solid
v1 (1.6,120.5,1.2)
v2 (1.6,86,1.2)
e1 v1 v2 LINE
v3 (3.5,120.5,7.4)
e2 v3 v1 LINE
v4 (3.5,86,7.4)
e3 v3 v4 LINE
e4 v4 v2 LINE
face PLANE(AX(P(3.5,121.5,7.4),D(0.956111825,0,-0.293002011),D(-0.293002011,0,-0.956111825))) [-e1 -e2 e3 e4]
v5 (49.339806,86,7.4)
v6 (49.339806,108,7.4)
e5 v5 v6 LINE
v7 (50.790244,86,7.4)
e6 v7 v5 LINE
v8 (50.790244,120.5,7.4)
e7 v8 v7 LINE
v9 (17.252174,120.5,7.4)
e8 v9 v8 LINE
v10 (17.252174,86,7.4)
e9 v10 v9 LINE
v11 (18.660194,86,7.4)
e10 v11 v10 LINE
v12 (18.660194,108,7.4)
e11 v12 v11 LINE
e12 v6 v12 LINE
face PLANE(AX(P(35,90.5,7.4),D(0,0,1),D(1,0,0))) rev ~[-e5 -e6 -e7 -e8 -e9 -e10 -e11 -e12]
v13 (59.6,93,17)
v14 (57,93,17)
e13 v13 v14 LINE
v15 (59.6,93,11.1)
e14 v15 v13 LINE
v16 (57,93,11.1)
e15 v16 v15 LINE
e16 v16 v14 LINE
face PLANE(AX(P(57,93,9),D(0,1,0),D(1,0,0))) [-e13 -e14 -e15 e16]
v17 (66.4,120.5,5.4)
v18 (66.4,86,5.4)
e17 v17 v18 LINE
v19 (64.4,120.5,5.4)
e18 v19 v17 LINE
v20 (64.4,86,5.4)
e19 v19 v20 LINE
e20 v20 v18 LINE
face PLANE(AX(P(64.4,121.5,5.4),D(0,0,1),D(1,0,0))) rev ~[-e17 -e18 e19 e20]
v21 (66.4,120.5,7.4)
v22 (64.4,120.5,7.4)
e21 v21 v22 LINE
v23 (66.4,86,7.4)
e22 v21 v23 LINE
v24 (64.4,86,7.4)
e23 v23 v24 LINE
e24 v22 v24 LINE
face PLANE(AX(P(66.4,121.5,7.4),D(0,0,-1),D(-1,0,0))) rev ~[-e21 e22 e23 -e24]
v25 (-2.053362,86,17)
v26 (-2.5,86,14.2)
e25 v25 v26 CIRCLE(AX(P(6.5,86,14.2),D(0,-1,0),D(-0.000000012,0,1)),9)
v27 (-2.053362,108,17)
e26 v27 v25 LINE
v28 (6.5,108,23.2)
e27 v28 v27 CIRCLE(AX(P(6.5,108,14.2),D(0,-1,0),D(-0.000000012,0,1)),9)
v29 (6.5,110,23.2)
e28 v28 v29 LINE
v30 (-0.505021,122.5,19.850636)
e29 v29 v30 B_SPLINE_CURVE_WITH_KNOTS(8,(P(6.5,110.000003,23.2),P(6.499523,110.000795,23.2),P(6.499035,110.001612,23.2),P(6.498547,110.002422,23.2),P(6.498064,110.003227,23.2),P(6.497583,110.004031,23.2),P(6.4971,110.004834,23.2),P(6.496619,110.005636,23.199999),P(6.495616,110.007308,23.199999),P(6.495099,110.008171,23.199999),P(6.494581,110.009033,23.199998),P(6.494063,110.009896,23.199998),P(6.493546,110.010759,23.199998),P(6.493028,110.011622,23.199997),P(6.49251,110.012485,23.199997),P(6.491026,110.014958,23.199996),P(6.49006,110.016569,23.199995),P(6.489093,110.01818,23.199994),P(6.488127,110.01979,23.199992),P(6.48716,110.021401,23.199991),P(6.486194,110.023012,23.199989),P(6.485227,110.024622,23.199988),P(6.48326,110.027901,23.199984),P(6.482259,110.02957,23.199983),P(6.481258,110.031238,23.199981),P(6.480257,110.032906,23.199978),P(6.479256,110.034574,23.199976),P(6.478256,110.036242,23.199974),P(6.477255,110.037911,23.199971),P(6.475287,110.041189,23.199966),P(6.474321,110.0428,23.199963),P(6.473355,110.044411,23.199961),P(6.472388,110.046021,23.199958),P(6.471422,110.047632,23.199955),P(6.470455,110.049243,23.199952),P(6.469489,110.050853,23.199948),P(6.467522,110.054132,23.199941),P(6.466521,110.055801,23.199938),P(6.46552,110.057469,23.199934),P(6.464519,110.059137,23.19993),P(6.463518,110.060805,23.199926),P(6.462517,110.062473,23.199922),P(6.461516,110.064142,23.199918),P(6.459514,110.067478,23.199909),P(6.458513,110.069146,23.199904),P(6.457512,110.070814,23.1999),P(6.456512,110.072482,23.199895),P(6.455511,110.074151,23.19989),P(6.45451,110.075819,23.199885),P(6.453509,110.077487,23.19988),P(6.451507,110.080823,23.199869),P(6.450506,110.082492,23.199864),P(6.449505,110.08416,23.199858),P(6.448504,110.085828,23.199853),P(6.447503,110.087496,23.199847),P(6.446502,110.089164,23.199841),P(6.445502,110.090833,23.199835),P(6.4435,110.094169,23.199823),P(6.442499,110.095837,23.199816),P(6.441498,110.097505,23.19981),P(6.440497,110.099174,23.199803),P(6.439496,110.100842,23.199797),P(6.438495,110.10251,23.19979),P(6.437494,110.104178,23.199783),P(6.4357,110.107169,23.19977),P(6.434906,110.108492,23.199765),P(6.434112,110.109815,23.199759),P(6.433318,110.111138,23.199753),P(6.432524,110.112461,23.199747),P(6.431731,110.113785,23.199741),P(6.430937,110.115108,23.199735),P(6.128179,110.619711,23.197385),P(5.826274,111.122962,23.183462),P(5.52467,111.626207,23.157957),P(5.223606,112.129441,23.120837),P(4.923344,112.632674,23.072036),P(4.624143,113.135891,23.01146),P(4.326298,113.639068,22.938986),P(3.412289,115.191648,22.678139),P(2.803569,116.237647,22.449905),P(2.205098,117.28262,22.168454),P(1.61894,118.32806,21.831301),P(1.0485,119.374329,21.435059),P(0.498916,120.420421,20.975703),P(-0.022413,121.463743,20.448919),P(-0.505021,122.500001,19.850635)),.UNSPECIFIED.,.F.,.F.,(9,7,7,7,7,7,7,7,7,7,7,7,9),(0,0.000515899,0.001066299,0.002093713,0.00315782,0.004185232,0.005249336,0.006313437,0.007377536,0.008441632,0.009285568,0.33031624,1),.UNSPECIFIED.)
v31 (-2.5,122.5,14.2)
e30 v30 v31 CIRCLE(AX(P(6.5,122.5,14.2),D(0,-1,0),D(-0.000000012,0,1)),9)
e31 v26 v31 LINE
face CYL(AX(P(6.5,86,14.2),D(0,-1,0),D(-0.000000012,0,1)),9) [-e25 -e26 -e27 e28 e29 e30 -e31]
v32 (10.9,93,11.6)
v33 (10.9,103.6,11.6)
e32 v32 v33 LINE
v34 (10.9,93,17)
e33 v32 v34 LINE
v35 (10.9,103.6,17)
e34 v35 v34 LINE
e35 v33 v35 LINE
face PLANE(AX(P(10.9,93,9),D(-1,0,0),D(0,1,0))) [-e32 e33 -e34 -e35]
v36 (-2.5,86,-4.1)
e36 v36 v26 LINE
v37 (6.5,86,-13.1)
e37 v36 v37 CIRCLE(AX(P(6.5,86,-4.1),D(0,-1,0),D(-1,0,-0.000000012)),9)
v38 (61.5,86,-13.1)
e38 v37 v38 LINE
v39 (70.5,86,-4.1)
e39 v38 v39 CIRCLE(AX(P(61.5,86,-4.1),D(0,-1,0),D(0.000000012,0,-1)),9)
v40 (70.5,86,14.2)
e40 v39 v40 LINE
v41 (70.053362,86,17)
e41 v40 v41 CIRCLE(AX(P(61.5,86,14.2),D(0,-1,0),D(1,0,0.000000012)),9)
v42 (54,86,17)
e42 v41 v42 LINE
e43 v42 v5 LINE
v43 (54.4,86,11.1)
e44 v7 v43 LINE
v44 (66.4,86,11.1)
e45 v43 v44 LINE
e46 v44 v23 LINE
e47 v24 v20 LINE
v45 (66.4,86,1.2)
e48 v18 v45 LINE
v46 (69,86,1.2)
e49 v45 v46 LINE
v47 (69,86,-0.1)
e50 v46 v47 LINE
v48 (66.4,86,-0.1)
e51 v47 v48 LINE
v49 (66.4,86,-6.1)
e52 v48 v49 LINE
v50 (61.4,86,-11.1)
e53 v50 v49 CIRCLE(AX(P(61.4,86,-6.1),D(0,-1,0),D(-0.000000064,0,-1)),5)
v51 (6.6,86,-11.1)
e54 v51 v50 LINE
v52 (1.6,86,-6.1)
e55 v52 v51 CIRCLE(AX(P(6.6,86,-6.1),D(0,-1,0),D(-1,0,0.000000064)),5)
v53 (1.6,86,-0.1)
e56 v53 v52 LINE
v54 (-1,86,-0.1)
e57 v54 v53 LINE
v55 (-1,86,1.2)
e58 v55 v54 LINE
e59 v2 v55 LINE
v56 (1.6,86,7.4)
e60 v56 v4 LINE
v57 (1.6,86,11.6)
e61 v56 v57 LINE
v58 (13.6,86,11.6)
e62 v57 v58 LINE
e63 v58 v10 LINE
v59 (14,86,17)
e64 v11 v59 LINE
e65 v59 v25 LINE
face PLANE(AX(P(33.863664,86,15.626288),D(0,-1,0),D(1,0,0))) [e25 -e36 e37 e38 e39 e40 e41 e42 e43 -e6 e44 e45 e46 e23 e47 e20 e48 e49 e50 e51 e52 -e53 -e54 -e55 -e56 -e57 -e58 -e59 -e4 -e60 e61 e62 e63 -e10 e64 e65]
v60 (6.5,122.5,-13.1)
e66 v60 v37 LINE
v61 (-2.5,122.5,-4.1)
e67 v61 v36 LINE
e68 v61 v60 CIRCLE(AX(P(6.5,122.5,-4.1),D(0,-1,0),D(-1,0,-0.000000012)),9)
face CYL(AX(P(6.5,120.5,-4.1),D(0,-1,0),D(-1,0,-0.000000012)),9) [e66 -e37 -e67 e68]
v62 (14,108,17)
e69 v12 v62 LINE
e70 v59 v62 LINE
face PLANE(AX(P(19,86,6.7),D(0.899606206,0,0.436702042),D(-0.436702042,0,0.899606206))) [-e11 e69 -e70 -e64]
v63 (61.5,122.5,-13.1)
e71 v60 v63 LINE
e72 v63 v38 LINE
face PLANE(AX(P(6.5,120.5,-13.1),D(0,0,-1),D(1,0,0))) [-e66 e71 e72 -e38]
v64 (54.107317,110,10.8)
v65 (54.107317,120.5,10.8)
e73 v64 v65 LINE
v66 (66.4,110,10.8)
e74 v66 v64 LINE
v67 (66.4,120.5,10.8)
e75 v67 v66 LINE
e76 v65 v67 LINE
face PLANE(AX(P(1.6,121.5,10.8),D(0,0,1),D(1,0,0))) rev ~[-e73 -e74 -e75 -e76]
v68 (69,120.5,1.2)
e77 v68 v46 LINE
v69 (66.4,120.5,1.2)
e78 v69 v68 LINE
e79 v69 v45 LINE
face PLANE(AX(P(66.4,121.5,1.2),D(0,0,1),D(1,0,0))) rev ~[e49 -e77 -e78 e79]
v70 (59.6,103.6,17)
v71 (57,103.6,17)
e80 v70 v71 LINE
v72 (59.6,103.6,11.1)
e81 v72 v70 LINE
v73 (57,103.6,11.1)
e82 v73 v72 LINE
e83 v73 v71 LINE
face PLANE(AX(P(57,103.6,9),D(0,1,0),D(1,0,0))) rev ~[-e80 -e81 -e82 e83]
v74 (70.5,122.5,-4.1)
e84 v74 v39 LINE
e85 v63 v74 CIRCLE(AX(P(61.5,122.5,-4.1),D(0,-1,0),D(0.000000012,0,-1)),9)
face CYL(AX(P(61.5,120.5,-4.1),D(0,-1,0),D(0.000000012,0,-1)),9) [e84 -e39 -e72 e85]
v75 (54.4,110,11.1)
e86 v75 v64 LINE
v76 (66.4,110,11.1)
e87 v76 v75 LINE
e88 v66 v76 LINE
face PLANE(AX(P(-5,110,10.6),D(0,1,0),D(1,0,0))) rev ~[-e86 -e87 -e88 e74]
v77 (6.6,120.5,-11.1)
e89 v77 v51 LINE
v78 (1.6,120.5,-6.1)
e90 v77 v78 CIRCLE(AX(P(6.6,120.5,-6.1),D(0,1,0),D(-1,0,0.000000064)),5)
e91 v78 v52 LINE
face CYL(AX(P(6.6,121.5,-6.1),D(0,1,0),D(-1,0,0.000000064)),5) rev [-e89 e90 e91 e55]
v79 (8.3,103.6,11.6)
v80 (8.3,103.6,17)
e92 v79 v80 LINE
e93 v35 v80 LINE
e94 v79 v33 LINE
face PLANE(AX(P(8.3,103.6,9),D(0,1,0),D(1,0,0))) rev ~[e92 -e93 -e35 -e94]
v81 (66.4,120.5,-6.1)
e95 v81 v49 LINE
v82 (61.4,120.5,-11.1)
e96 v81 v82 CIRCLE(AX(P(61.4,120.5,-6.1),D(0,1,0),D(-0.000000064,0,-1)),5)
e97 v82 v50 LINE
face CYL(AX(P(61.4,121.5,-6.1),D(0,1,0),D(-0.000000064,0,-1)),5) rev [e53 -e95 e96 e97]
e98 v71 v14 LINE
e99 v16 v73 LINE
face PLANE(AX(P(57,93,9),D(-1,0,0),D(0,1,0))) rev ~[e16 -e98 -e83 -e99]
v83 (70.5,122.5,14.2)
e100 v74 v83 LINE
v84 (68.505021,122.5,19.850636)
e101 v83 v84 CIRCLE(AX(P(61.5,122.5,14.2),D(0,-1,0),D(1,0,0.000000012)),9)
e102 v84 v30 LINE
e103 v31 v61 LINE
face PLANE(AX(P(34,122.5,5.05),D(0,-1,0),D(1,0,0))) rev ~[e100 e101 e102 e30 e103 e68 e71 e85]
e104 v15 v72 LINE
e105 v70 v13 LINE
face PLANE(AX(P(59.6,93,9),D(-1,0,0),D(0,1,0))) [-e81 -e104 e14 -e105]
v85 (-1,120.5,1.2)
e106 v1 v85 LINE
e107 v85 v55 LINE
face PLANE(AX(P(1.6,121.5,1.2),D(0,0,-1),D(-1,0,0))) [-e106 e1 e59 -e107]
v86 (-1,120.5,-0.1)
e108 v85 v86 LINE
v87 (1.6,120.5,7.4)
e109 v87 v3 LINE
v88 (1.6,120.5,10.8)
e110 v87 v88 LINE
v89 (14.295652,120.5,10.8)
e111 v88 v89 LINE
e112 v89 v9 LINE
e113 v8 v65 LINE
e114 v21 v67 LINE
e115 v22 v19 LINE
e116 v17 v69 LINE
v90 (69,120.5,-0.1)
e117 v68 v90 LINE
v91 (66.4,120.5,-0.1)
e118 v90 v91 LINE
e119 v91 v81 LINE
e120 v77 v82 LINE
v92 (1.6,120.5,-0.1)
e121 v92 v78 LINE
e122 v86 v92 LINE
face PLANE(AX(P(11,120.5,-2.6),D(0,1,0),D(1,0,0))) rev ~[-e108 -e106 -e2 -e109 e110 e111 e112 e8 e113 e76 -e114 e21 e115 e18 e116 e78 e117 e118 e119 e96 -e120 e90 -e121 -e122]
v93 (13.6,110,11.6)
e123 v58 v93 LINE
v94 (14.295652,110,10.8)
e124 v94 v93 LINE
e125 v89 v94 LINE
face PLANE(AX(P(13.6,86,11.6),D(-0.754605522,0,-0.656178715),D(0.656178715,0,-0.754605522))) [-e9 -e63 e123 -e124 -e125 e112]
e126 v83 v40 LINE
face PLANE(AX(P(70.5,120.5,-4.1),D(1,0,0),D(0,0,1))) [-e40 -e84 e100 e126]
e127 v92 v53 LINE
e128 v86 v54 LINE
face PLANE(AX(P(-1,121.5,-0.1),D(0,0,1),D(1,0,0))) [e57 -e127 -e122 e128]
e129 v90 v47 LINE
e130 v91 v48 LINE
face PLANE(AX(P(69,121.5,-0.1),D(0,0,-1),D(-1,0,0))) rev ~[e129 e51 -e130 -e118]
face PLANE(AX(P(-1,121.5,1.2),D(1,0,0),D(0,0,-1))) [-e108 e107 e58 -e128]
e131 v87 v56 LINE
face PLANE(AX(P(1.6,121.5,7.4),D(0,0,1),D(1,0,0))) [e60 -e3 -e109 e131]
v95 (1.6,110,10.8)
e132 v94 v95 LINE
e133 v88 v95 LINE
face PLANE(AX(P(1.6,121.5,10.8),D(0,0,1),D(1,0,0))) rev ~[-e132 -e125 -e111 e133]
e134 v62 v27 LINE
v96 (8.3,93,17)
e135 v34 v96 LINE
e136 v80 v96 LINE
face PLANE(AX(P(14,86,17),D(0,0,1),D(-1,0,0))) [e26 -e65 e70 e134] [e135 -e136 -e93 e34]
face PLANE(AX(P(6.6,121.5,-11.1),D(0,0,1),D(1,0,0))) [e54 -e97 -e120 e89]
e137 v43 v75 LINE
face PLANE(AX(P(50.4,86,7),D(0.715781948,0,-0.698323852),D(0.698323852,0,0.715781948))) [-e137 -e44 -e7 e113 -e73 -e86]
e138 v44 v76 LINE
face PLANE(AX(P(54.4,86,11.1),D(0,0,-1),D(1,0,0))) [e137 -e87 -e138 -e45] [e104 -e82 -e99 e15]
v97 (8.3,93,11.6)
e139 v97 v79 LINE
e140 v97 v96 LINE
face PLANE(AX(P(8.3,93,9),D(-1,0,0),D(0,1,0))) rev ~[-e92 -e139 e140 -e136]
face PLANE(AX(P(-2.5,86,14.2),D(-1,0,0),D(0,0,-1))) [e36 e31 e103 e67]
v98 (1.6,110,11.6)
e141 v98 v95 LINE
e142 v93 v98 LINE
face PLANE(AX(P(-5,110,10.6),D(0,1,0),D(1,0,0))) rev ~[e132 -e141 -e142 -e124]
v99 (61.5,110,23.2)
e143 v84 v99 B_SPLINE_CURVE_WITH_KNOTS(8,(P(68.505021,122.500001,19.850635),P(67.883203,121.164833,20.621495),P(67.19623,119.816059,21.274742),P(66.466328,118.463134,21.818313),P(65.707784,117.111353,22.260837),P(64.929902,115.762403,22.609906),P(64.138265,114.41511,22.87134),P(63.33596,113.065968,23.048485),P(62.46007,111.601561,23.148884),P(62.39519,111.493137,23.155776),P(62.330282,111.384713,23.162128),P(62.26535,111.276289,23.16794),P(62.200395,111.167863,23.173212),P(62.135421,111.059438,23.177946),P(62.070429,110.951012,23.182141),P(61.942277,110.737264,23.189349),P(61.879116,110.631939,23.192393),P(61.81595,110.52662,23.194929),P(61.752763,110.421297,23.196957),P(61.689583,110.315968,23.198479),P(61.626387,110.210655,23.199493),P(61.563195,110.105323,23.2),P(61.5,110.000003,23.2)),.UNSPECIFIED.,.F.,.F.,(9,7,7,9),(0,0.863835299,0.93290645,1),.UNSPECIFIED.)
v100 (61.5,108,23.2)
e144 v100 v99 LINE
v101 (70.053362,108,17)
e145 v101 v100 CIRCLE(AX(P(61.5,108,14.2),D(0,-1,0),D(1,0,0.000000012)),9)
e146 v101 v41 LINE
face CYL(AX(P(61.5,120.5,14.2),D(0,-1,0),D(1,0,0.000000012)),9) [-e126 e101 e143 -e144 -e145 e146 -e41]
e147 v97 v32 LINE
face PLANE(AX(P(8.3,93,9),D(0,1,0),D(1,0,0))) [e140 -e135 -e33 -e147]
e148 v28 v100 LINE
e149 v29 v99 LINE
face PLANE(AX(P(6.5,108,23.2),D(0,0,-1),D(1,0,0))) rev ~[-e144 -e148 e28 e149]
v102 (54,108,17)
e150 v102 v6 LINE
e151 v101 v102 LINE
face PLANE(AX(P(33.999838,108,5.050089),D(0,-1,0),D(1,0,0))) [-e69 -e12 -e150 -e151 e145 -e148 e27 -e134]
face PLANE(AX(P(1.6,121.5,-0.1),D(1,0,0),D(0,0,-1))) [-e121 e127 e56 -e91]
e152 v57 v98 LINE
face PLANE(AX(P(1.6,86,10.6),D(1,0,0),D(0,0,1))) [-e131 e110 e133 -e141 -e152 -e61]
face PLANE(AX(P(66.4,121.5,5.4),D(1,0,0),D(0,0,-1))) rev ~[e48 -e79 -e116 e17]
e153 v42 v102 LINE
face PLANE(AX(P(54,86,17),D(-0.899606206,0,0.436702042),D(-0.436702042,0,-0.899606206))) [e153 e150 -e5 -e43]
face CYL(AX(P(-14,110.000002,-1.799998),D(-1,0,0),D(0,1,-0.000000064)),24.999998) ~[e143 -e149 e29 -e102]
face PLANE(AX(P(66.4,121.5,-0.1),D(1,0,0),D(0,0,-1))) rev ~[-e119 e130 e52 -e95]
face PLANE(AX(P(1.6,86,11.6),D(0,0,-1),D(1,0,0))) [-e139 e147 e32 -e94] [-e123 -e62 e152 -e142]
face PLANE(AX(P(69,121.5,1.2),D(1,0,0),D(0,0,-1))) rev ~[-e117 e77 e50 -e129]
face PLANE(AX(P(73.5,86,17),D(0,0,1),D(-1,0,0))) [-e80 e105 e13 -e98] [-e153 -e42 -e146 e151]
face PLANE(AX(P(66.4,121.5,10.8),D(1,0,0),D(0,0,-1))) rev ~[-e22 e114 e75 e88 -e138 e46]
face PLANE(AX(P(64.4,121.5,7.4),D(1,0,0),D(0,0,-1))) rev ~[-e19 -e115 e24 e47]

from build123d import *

# Parameters (mm, degrees)
BOX030_W                             = 48
BOX030_H                             = 60
BOX030_DEPTH                         = 10
BOX028_W                             = 2.6
BOX028_H                             = 10.6
BOX028_DEPTH                         = 15
BOX027_W                             = 2.6
BOX027_H                             = 10.6
BOX027_DEPTH                         = 15
EXTRUDE076_DEPTH                     = 34.5
EXTRUDE076_ONTO_SKETCH082_ROLL_ANGLE = 90
EXTRUDE075_DEPTH                     = 34.5
EXTRUDE075_ONTO_SKETCH081_ROLL_ANGLE = 90
EXTRUDE077_DEPTH                     = 10.5
EXTRUDE077_ONTO_SKETCH083_ROLL_ANGLE = 90
EXTRUDE080_DEPTH                     = 100
EXTRUDE079_DEPTH                     = 2
EXTRUDE079_ONTO_SKETCH085_ROLL_ANGLE = 90
BOX029_W                             = 80
BOX029_H                             = 28
BOX029_DEPTH                         = 30
EXTRUDE078_DEPTH                     = 35.5
EXTRUDE078_ONTO_SKETCH084_ROLL_ANGLE = 90
BOX032_W                             = 48
BOX032_H                             = 60
BOX032_DEPTH                         = 35
BOX031_W                             = 48
BOX031_H                             = 60
BOX031_DEPTH                         = 35
BOX033_W                             = 48
BOX033_H                             = 60
BOX033_DEPTH                         = 35
EXTRUDE081_DEPTH                     = 2
EXTRUDE081_ONTO_SKETCH087_ROLL_ANGLE = 90


with BuildPart() as cube:
    # Box030 → Box030 (new body)
    with BuildSketch(Plane(origin=(11, 60.5, -2.6), x_dir=(1, 0, 0), z_dir=(0, 0, 1))):
        with Locations((24, 30)):
            Rectangle(BOX030_W, BOX030_H)
    extrude(amount=BOX030_DEPTH)


with BuildPart() as control_cutout_rec003:
    # Box028 → Box028 (new body)
    with BuildSketch(Plane(origin=(57, 93, 9), x_dir=(1, 0, 0), z_dir=(0, 0, 1))):
        with Locations((1.3, 5.3)):
            Rectangle(BOX028_W, BOX028_H)
    extrude(amount=BOX028_DEPTH)


with BuildPart() as button_cutouts_rec001:
    # Box027 → Box027 (new body)
    with BuildSketch(Plane(origin=(8.3, 93, 9), x_dir=(1, 0, 0), z_dir=(0, 0, 1))):
        with Locations((1.3, 5.3)):
            Rectangle(BOX027_W, BOX027_H)
    extrude(amount=BOX027_DEPTH)

    # Fusion041: union control_cutout_rec003
    add(control_cutout_rec003.part)


with BuildPart() as screen_cutout_shp002:
    # Sketch082 as drawn → Extrude076 (new)
    with BuildSketch(Plane.XY):
        Polygon((14, 17), (-5.5, 17), (-5.5, 25.6), (73.5, 25.6), (73.5, 17), (54, 17), (49, 6.7), (49, 6.6), (19, 6.6), (19, 6.7), align=None)
    extrude(amount=-EXTRUDE076_DEPTH)


with BuildPart() as screen_cutout_shp002_1:
    # Extrude076 onto Sketch082 roll: moved
    add(screen_cutout_shp002.part.rotate(Axis((0, 0, 0), (1, 0, 0)), EXTRUDE076_ONTO_SKETCH082_ROLL_ANGLE))


with BuildPart() as screen_cutout_shp002_2:
    # Extrude076 onto Sketch082 placement: moved
    add(screen_cutout_shp002_1.part.moved(Location((0, 86, 0))))


with BuildPart() as screen_frame002:
    # Sketch081 as drawn → Extrude075 (new)
    with BuildSketch(Plane.XY):
        with BuildLine():
            Line((-2.5, 14.2), (-2.5, 10.6))
            Line((-2.5, 10.6), (1.6, 10.6))
            Line((1.6, 10.6), (1.6, 11.6))
            Line((1.6, 11.6), (13.6, 11.6))
            Line((13.6, 11.6), (17.6, 7))
            Line((17.6, 7), (50.4, 7))
            Line((50.4, 7), (54.4, 11.1))
            Line((54.4, 11.1), (66.4, 11.1))
            Line((66.4, 11.1), (66.4, 10.6))
            Line((66.4, 10.6), (70.5, 10.6))
            Line((70.5, 10.6), (70.5, 14.2))
            ThreePointArc((70.5, 14.2), (67.863961, 20.563961), (61.5, 23.2))
            Line((6.5, 23.2), (61.5, 23.2))
            ThreePointArc((6.5, 23.2), (0.136039, 20.563961), (-2.5, 14.2))
        make_face()
    extrude(amount=-EXTRUDE075_DEPTH)


with BuildPart() as screen_frame002_1:
    # Extrude075 onto Sketch081 roll: moved
    add(screen_frame002.part.rotate(Axis((0, 0, 0), (1, 0, 0)), EXTRUDE075_ONTO_SKETCH081_ROLL_ANGLE))


with BuildPart() as screen_frame002_2:
    # Extrude075 onto Sketch081 placement: moved
    add(screen_frame002_1.part.moved(Location((0, 86, 0))))

    # Cut031: cut screen_cutout_shp002
    add(screen_cutout_shp002_2.part, mode=Mode.SUBTRACT)


with BuildPart() as cut032:
    # Sketch083 as drawn → Extrude077 (new)
    with BuildSketch(Plane.XY):
        Polygon((13.6, 12.2), (17.6, 7.2), (50.4, 7.2), (54.4, 12.2), align=None)
    extrude(amount=-EXTRUDE077_DEPTH)


with BuildPart() as cut032_1:
    # Extrude077 onto Sketch083 roll: moved
    add(cut032.part.rotate(Axis((0, 0, 0), (1, 0, 0)), EXTRUDE077_ONTO_SKETCH083_ROLL_ANGLE))


with BuildPart() as cut032_2:
    # Extrude077 onto Sketch083 placement: moved
    add(cut032_1.part.moved(Location((0, 110, 0))))

    # Fusion042: union screen_frame002
    add(screen_frame002_2.part)

    # Cut032: cut button_cutouts_rec001
    add(button_cutouts_rec001.part, mode=Mode.SUBTRACT)


with BuildPart() as round_cut002:
    # Sketch086 → Extrude080 (new body)
    with BuildSketch(Plane.YZ.offset(-14)):
        with BuildLine():
            Line((100, 23.2), (100, 26.2))
            Line((100, 26.2), (138, 26.2))
            Line((138, 26.2), (138, -11.8))
            Line((138, -11.8), (135, -11.8))
            Line((135, -11.8), (135, -1.8))
            ThreePointArc((135, -1.8), (127.67767, 15.87767), (110, 23.2))
            Line((100, 23.2), (110, 23.2))
        make_face()
    extrude(amount=EXTRUDE080_DEPTH)


with BuildPart() as extrude079:
    # Sketch085 as drawn → Extrude079 (new)
    with BuildSketch(Plane.XY):
        with BuildLine():
            Line((-2.5, 14.2), (-2.5, -4.1))
            ThreePointArc((-2.5, -4.1), (0.136039, -10.463961), (6.5, -13.1))
            Line((6.5, -13.1), (61.5, -13.1))
            ThreePointArc((61.5, -13.1), (67.863961, -10.463961), (70.5, -4.1))
            Line((70.5, -4.1), (70.5, 14.2))
            ThreePointArc((70.5, 14.2), (67.863961, 20.563961), (61.5, 23.2))
            Line((6.5, 23.2), (61.5, 23.2))
            ThreePointArc((6.5, 23.2), (0.136039, 20.563961), (-2.5, 14.2))
        make_face()
    extrude(amount=-EXTRUDE079_DEPTH)


with BuildPart() as extrude079_1:
    # Extrude079 onto Sketch085 roll: moved
    add(extrude079.part.rotate(Axis((0, 0, 0), (1, 0, 0)), EXTRUDE079_ONTO_SKETCH085_ROLL_ANGLE))


with BuildPart() as extrude079_2:
    # Extrude079 onto Sketch085 placement: moved
    add(extrude079_1.part.moved(Location((0, 120, 0))))


with BuildPart() as extrude079_3:
    # Extrude079 placement: moved
    add(extrude079_2.part.moved(Location((0, 0.5, 0))))


with BuildPart() as cube008:
    # Box029 → Box029 (new body)
    with BuildSketch(Plane(origin=(-5, 82, 10.6), x_dir=(1, 0, 0), z_dir=(0, 0, 1))):
        with Locations((40, 14)):
            Rectangle(BOX029_W, BOX029_H)
    extrude(amount=BOX029_DEPTH)


with BuildPart() as shell_upper004:
    # Sketch084 as drawn → Extrude078 (new)
    with BuildSketch(Plane.XY):
        with BuildLine():
            Line((-2.5, 14.2), (-2.5, -4.1))
            ThreePointArc((-2.5, -4.1), (0.136039, -10.463961), (6.5, -13.1))
            Line((6.5, -13.1), (61.5, -13.1))
            ThreePointArc((61.5, -13.1), (67.863961, -10.463961), (70.5, -4.1))
            Line((70.5, -4.1), (70.5, 14.2))
            ThreePointArc((70.5, 14.2), (67.863961, 20.563961), (61.5, 23.2))
            Line((6.5, 23.2), (61.5, 23.2))
            ThreePointArc((6.5, 23.2), (0.136039, 20.563961), (-2.5, 14.2))
        make_face()
        with BuildLine():
            Line((1.6, 1.2), (-1, 1.2))
            Line((-1, 1.2), (-1, -0.1))
            Line((-1, -0.1), (1.6, -0.1))
            Line((1.6, -0.1), (1.6, -6.1))
            ThreePointArc((1.6, -6.1), (3.064466, -9.635534), (6.6, -11.1))
            Line((6.6, -11.1), (61.4, -11.1))
            ThreePointArc((61.4, -11.1), (64.935534, -9.635534), (66.4, -6.1))
            Line((66.4, -0.1), (66.4, -6.1))
            Line((69, -0.1), (66.4, -0.1))
            Line((69, 1.2), (69, -0.1))
            Line((66.4, 1.2), (69, 1.2))
            Line((66.4, 5.4), (66.4, 1.2))
            Line((64.4, 5.4), (66.4, 5.4))
            Line((64.4, 7.4), (64.4, 5.4))
            Line((66.4, 7.4), (64.4, 7.4))
            Line((66.4, 10.6), (66.4, 7.4))
            Line((66.4, 10.6), (66.4, 10.8))
            Line((66.4, 10.8), (64.5, 10.8))
            Line((64.5, 10.8), (3.5, 10.8))
            Line((1.6, 10.8), (3.5, 10.8))
            Line((1.6, 10.6), (1.6, 10.8))
            Line((1.6, 10.6), (1.6, 7.4))
            Line((1.6, 7.4), (3.5, 7.4))
            Line((3.5, 7.4), (1.6, 1.2))
        make_face(mode=Mode.SUBTRACT)
    extrude(amount=EXTRUDE078_DEPTH)


with BuildPart() as shell_upper004_1:
    # Extrude078 onto Sketch084 roll: moved
    add(shell_upper004.part.rotate(Axis((0, 0, 0), (1, 0, 0)), EXTRUDE078_ONTO_SKETCH084_ROLL_ANGLE))


with BuildPart() as shell_upper004_2:
    # Extrude078 onto Sketch084 placement: moved
    add(shell_upper004_1.part.moved(Location((0, 120, 0))))


with BuildPart() as shell_upper004_3:
    # Extrude078 placement: moved
    add(shell_upper004_2.part.moved(Location((0, 1.5, 0))))

    # Cut033: cut Cube008
    add(cube008.part, mode=Mode.SUBTRACT)

    # Fusion043: union Extrude079
    add(extrude079_3.part)

    # Cut034: cut round_cut002
    add(round_cut002.part, mode=Mode.SUBTRACT)

    # Fusion044: union Cut032
    add(cut032_2.part)


with BuildPart() as cube010:
    # Box032 → Box032 (new body)
    with BuildSketch(Plane(origin=(54, 60.5, -20.6), x_dir=(1, 0, 0), z_dir=(0, 0, 1))):
        with Locations((24, 30)):
            Rectangle(BOX032_W, BOX032_H)
    extrude(amount=BOX032_DEPTH)


with BuildPart() as cube009:
    # Box031 → Box031 (new body)
    with BuildSketch(Plane(origin=(-33, 60.5, -21.6), x_dir=(1, 0, 0), z_dir=(0, 0, 1))):
        with Locations((24, 30)):
            Rectangle(BOX031_W, BOX031_H)
    extrude(amount=BOX031_DEPTH)


with BuildPart() as fusion045:
    # Box033 → Box033 (new body)
    with BuildSketch(Plane(origin=(11, 60.5, -32.6), x_dir=(1, 0, 0), z_dir=(0, 0, 1))):
        with Locations((24, 30)):
            Rectangle(BOX033_W, BOX033_H)
    extrude(amount=BOX033_DEPTH)

    # Fusion045: union Cube010, Cube009
    add(cube010.part)
    add(cube009.part)


with BuildPart() as shell_upper_tuned:
    # Sketch087 as drawn → Extrude081 (new)
    with BuildSketch(Plane.XY):
        with BuildLine():
            Line((-2.5, 14.2), (-2.5, -4.099997))
            ThreePointArc((-2.5, -4.099997), (0.136039, -10.463958), (6.5, -13.099997))
            Line((6.5, -13.099997), (61.498163, -13.099997))
            ThreePointArc((61.498163, -13.099997), (67.863423, -10.46342), (70.5, -4.09816))
            Line((70.5, -4.09816), (70.5, 14.2))
            ThreePointArc((70.5, 14.2), (67.863961, 20.563961), (61.5, 23.2))
            Line((6.5, 23.2), (61.5, 23.2))
            ThreePointArc((6.5, 23.2), (0.136039, 20.563961), (-2.5, 14.2))
        make_face()
        with BuildLine():
            Line((1.6, 1.200003), (-1, 1.200003))
            Line((-1, 1.200003), (-1, -0.099997))
            Line((-1, -0.099997), (1.6, -0.099997))
            Line((1.6, -0.099997), (1.6, -6.099997))
            ThreePointArc((1.6, -6.099997), (3.064466, -9.635531), (6.6, -11.099997))
            Line((6.6, -11.099997), (61.399986, -11.099997))
            ThreePointArc((61.399986, -11.099997), (64.936819, -9.634993), (66.401823, -6.09816))
            Line((66.401823, -0.09816), (66.401823, -6.09816))
            Line((69, -0.09816), (66.401823, -0.09816))
            Line((69, 1.20184), (69, -0.09816))
            Line((66.401823, 1.20184), (69, 1.20184))
            Line((66.401823, 5.40184), (66.401823, 1.20184))
            Line((64.3846, 5.40184), (66.401823, 5.40184))
            Line((64.3846, 10.90184), (64.3846, 5.40184))
            Line((54.2, 10.90184), (64.3846, 10.90184))
            Line((50.4, 7), (54.2, 10.90184))
            Line((17.6, 7), (50.4, 7))
            Line((14.2, 10.97071), (17.6, 7))
            Line((3.5, 10.97071), (14.2, 10.97071))
            Line((3.5, 7.47071), (3.5, 10.97071))
            Line((3.5, 7.47071), (1.6, 1.200003))
        make_face(mode=Mode.SUBTRACT)
    extrude(amount=-EXTRUDE081_DEPTH)


with BuildPart() as shell_upper_tuned_1:
    # Extrude081 onto Sketch087 roll: moved
    add(shell_upper_tuned.part.rotate(Axis((0, 0, 0), (1, 0, 0)), EXTRUDE081_ONTO_SKETCH087_ROLL_ANGLE))


with BuildPart() as shell_upper_tuned_2:
    # Extrude081 onto Sketch087 placement: moved
    add(shell_upper_tuned_1.part.moved(Location((0, 84, 0))))


with BuildPart() as shell_upper_tuned_3:
    # Extrude081 placement: moved
    add(shell_upper_tuned_2.part.moved(Location((0, 24, 0))))

    # Cut035: cut Fusion045
    add(fusion045.part, mode=Mode.SUBTRACT)

    # Fusion046: union shell_upper004
    add(shell_upper004_3.part)

    # Cut036: cut Cube
    add(cube.part, mode=Mode.SUBTRACT)


solid = shell_upper_tuned_3.part
